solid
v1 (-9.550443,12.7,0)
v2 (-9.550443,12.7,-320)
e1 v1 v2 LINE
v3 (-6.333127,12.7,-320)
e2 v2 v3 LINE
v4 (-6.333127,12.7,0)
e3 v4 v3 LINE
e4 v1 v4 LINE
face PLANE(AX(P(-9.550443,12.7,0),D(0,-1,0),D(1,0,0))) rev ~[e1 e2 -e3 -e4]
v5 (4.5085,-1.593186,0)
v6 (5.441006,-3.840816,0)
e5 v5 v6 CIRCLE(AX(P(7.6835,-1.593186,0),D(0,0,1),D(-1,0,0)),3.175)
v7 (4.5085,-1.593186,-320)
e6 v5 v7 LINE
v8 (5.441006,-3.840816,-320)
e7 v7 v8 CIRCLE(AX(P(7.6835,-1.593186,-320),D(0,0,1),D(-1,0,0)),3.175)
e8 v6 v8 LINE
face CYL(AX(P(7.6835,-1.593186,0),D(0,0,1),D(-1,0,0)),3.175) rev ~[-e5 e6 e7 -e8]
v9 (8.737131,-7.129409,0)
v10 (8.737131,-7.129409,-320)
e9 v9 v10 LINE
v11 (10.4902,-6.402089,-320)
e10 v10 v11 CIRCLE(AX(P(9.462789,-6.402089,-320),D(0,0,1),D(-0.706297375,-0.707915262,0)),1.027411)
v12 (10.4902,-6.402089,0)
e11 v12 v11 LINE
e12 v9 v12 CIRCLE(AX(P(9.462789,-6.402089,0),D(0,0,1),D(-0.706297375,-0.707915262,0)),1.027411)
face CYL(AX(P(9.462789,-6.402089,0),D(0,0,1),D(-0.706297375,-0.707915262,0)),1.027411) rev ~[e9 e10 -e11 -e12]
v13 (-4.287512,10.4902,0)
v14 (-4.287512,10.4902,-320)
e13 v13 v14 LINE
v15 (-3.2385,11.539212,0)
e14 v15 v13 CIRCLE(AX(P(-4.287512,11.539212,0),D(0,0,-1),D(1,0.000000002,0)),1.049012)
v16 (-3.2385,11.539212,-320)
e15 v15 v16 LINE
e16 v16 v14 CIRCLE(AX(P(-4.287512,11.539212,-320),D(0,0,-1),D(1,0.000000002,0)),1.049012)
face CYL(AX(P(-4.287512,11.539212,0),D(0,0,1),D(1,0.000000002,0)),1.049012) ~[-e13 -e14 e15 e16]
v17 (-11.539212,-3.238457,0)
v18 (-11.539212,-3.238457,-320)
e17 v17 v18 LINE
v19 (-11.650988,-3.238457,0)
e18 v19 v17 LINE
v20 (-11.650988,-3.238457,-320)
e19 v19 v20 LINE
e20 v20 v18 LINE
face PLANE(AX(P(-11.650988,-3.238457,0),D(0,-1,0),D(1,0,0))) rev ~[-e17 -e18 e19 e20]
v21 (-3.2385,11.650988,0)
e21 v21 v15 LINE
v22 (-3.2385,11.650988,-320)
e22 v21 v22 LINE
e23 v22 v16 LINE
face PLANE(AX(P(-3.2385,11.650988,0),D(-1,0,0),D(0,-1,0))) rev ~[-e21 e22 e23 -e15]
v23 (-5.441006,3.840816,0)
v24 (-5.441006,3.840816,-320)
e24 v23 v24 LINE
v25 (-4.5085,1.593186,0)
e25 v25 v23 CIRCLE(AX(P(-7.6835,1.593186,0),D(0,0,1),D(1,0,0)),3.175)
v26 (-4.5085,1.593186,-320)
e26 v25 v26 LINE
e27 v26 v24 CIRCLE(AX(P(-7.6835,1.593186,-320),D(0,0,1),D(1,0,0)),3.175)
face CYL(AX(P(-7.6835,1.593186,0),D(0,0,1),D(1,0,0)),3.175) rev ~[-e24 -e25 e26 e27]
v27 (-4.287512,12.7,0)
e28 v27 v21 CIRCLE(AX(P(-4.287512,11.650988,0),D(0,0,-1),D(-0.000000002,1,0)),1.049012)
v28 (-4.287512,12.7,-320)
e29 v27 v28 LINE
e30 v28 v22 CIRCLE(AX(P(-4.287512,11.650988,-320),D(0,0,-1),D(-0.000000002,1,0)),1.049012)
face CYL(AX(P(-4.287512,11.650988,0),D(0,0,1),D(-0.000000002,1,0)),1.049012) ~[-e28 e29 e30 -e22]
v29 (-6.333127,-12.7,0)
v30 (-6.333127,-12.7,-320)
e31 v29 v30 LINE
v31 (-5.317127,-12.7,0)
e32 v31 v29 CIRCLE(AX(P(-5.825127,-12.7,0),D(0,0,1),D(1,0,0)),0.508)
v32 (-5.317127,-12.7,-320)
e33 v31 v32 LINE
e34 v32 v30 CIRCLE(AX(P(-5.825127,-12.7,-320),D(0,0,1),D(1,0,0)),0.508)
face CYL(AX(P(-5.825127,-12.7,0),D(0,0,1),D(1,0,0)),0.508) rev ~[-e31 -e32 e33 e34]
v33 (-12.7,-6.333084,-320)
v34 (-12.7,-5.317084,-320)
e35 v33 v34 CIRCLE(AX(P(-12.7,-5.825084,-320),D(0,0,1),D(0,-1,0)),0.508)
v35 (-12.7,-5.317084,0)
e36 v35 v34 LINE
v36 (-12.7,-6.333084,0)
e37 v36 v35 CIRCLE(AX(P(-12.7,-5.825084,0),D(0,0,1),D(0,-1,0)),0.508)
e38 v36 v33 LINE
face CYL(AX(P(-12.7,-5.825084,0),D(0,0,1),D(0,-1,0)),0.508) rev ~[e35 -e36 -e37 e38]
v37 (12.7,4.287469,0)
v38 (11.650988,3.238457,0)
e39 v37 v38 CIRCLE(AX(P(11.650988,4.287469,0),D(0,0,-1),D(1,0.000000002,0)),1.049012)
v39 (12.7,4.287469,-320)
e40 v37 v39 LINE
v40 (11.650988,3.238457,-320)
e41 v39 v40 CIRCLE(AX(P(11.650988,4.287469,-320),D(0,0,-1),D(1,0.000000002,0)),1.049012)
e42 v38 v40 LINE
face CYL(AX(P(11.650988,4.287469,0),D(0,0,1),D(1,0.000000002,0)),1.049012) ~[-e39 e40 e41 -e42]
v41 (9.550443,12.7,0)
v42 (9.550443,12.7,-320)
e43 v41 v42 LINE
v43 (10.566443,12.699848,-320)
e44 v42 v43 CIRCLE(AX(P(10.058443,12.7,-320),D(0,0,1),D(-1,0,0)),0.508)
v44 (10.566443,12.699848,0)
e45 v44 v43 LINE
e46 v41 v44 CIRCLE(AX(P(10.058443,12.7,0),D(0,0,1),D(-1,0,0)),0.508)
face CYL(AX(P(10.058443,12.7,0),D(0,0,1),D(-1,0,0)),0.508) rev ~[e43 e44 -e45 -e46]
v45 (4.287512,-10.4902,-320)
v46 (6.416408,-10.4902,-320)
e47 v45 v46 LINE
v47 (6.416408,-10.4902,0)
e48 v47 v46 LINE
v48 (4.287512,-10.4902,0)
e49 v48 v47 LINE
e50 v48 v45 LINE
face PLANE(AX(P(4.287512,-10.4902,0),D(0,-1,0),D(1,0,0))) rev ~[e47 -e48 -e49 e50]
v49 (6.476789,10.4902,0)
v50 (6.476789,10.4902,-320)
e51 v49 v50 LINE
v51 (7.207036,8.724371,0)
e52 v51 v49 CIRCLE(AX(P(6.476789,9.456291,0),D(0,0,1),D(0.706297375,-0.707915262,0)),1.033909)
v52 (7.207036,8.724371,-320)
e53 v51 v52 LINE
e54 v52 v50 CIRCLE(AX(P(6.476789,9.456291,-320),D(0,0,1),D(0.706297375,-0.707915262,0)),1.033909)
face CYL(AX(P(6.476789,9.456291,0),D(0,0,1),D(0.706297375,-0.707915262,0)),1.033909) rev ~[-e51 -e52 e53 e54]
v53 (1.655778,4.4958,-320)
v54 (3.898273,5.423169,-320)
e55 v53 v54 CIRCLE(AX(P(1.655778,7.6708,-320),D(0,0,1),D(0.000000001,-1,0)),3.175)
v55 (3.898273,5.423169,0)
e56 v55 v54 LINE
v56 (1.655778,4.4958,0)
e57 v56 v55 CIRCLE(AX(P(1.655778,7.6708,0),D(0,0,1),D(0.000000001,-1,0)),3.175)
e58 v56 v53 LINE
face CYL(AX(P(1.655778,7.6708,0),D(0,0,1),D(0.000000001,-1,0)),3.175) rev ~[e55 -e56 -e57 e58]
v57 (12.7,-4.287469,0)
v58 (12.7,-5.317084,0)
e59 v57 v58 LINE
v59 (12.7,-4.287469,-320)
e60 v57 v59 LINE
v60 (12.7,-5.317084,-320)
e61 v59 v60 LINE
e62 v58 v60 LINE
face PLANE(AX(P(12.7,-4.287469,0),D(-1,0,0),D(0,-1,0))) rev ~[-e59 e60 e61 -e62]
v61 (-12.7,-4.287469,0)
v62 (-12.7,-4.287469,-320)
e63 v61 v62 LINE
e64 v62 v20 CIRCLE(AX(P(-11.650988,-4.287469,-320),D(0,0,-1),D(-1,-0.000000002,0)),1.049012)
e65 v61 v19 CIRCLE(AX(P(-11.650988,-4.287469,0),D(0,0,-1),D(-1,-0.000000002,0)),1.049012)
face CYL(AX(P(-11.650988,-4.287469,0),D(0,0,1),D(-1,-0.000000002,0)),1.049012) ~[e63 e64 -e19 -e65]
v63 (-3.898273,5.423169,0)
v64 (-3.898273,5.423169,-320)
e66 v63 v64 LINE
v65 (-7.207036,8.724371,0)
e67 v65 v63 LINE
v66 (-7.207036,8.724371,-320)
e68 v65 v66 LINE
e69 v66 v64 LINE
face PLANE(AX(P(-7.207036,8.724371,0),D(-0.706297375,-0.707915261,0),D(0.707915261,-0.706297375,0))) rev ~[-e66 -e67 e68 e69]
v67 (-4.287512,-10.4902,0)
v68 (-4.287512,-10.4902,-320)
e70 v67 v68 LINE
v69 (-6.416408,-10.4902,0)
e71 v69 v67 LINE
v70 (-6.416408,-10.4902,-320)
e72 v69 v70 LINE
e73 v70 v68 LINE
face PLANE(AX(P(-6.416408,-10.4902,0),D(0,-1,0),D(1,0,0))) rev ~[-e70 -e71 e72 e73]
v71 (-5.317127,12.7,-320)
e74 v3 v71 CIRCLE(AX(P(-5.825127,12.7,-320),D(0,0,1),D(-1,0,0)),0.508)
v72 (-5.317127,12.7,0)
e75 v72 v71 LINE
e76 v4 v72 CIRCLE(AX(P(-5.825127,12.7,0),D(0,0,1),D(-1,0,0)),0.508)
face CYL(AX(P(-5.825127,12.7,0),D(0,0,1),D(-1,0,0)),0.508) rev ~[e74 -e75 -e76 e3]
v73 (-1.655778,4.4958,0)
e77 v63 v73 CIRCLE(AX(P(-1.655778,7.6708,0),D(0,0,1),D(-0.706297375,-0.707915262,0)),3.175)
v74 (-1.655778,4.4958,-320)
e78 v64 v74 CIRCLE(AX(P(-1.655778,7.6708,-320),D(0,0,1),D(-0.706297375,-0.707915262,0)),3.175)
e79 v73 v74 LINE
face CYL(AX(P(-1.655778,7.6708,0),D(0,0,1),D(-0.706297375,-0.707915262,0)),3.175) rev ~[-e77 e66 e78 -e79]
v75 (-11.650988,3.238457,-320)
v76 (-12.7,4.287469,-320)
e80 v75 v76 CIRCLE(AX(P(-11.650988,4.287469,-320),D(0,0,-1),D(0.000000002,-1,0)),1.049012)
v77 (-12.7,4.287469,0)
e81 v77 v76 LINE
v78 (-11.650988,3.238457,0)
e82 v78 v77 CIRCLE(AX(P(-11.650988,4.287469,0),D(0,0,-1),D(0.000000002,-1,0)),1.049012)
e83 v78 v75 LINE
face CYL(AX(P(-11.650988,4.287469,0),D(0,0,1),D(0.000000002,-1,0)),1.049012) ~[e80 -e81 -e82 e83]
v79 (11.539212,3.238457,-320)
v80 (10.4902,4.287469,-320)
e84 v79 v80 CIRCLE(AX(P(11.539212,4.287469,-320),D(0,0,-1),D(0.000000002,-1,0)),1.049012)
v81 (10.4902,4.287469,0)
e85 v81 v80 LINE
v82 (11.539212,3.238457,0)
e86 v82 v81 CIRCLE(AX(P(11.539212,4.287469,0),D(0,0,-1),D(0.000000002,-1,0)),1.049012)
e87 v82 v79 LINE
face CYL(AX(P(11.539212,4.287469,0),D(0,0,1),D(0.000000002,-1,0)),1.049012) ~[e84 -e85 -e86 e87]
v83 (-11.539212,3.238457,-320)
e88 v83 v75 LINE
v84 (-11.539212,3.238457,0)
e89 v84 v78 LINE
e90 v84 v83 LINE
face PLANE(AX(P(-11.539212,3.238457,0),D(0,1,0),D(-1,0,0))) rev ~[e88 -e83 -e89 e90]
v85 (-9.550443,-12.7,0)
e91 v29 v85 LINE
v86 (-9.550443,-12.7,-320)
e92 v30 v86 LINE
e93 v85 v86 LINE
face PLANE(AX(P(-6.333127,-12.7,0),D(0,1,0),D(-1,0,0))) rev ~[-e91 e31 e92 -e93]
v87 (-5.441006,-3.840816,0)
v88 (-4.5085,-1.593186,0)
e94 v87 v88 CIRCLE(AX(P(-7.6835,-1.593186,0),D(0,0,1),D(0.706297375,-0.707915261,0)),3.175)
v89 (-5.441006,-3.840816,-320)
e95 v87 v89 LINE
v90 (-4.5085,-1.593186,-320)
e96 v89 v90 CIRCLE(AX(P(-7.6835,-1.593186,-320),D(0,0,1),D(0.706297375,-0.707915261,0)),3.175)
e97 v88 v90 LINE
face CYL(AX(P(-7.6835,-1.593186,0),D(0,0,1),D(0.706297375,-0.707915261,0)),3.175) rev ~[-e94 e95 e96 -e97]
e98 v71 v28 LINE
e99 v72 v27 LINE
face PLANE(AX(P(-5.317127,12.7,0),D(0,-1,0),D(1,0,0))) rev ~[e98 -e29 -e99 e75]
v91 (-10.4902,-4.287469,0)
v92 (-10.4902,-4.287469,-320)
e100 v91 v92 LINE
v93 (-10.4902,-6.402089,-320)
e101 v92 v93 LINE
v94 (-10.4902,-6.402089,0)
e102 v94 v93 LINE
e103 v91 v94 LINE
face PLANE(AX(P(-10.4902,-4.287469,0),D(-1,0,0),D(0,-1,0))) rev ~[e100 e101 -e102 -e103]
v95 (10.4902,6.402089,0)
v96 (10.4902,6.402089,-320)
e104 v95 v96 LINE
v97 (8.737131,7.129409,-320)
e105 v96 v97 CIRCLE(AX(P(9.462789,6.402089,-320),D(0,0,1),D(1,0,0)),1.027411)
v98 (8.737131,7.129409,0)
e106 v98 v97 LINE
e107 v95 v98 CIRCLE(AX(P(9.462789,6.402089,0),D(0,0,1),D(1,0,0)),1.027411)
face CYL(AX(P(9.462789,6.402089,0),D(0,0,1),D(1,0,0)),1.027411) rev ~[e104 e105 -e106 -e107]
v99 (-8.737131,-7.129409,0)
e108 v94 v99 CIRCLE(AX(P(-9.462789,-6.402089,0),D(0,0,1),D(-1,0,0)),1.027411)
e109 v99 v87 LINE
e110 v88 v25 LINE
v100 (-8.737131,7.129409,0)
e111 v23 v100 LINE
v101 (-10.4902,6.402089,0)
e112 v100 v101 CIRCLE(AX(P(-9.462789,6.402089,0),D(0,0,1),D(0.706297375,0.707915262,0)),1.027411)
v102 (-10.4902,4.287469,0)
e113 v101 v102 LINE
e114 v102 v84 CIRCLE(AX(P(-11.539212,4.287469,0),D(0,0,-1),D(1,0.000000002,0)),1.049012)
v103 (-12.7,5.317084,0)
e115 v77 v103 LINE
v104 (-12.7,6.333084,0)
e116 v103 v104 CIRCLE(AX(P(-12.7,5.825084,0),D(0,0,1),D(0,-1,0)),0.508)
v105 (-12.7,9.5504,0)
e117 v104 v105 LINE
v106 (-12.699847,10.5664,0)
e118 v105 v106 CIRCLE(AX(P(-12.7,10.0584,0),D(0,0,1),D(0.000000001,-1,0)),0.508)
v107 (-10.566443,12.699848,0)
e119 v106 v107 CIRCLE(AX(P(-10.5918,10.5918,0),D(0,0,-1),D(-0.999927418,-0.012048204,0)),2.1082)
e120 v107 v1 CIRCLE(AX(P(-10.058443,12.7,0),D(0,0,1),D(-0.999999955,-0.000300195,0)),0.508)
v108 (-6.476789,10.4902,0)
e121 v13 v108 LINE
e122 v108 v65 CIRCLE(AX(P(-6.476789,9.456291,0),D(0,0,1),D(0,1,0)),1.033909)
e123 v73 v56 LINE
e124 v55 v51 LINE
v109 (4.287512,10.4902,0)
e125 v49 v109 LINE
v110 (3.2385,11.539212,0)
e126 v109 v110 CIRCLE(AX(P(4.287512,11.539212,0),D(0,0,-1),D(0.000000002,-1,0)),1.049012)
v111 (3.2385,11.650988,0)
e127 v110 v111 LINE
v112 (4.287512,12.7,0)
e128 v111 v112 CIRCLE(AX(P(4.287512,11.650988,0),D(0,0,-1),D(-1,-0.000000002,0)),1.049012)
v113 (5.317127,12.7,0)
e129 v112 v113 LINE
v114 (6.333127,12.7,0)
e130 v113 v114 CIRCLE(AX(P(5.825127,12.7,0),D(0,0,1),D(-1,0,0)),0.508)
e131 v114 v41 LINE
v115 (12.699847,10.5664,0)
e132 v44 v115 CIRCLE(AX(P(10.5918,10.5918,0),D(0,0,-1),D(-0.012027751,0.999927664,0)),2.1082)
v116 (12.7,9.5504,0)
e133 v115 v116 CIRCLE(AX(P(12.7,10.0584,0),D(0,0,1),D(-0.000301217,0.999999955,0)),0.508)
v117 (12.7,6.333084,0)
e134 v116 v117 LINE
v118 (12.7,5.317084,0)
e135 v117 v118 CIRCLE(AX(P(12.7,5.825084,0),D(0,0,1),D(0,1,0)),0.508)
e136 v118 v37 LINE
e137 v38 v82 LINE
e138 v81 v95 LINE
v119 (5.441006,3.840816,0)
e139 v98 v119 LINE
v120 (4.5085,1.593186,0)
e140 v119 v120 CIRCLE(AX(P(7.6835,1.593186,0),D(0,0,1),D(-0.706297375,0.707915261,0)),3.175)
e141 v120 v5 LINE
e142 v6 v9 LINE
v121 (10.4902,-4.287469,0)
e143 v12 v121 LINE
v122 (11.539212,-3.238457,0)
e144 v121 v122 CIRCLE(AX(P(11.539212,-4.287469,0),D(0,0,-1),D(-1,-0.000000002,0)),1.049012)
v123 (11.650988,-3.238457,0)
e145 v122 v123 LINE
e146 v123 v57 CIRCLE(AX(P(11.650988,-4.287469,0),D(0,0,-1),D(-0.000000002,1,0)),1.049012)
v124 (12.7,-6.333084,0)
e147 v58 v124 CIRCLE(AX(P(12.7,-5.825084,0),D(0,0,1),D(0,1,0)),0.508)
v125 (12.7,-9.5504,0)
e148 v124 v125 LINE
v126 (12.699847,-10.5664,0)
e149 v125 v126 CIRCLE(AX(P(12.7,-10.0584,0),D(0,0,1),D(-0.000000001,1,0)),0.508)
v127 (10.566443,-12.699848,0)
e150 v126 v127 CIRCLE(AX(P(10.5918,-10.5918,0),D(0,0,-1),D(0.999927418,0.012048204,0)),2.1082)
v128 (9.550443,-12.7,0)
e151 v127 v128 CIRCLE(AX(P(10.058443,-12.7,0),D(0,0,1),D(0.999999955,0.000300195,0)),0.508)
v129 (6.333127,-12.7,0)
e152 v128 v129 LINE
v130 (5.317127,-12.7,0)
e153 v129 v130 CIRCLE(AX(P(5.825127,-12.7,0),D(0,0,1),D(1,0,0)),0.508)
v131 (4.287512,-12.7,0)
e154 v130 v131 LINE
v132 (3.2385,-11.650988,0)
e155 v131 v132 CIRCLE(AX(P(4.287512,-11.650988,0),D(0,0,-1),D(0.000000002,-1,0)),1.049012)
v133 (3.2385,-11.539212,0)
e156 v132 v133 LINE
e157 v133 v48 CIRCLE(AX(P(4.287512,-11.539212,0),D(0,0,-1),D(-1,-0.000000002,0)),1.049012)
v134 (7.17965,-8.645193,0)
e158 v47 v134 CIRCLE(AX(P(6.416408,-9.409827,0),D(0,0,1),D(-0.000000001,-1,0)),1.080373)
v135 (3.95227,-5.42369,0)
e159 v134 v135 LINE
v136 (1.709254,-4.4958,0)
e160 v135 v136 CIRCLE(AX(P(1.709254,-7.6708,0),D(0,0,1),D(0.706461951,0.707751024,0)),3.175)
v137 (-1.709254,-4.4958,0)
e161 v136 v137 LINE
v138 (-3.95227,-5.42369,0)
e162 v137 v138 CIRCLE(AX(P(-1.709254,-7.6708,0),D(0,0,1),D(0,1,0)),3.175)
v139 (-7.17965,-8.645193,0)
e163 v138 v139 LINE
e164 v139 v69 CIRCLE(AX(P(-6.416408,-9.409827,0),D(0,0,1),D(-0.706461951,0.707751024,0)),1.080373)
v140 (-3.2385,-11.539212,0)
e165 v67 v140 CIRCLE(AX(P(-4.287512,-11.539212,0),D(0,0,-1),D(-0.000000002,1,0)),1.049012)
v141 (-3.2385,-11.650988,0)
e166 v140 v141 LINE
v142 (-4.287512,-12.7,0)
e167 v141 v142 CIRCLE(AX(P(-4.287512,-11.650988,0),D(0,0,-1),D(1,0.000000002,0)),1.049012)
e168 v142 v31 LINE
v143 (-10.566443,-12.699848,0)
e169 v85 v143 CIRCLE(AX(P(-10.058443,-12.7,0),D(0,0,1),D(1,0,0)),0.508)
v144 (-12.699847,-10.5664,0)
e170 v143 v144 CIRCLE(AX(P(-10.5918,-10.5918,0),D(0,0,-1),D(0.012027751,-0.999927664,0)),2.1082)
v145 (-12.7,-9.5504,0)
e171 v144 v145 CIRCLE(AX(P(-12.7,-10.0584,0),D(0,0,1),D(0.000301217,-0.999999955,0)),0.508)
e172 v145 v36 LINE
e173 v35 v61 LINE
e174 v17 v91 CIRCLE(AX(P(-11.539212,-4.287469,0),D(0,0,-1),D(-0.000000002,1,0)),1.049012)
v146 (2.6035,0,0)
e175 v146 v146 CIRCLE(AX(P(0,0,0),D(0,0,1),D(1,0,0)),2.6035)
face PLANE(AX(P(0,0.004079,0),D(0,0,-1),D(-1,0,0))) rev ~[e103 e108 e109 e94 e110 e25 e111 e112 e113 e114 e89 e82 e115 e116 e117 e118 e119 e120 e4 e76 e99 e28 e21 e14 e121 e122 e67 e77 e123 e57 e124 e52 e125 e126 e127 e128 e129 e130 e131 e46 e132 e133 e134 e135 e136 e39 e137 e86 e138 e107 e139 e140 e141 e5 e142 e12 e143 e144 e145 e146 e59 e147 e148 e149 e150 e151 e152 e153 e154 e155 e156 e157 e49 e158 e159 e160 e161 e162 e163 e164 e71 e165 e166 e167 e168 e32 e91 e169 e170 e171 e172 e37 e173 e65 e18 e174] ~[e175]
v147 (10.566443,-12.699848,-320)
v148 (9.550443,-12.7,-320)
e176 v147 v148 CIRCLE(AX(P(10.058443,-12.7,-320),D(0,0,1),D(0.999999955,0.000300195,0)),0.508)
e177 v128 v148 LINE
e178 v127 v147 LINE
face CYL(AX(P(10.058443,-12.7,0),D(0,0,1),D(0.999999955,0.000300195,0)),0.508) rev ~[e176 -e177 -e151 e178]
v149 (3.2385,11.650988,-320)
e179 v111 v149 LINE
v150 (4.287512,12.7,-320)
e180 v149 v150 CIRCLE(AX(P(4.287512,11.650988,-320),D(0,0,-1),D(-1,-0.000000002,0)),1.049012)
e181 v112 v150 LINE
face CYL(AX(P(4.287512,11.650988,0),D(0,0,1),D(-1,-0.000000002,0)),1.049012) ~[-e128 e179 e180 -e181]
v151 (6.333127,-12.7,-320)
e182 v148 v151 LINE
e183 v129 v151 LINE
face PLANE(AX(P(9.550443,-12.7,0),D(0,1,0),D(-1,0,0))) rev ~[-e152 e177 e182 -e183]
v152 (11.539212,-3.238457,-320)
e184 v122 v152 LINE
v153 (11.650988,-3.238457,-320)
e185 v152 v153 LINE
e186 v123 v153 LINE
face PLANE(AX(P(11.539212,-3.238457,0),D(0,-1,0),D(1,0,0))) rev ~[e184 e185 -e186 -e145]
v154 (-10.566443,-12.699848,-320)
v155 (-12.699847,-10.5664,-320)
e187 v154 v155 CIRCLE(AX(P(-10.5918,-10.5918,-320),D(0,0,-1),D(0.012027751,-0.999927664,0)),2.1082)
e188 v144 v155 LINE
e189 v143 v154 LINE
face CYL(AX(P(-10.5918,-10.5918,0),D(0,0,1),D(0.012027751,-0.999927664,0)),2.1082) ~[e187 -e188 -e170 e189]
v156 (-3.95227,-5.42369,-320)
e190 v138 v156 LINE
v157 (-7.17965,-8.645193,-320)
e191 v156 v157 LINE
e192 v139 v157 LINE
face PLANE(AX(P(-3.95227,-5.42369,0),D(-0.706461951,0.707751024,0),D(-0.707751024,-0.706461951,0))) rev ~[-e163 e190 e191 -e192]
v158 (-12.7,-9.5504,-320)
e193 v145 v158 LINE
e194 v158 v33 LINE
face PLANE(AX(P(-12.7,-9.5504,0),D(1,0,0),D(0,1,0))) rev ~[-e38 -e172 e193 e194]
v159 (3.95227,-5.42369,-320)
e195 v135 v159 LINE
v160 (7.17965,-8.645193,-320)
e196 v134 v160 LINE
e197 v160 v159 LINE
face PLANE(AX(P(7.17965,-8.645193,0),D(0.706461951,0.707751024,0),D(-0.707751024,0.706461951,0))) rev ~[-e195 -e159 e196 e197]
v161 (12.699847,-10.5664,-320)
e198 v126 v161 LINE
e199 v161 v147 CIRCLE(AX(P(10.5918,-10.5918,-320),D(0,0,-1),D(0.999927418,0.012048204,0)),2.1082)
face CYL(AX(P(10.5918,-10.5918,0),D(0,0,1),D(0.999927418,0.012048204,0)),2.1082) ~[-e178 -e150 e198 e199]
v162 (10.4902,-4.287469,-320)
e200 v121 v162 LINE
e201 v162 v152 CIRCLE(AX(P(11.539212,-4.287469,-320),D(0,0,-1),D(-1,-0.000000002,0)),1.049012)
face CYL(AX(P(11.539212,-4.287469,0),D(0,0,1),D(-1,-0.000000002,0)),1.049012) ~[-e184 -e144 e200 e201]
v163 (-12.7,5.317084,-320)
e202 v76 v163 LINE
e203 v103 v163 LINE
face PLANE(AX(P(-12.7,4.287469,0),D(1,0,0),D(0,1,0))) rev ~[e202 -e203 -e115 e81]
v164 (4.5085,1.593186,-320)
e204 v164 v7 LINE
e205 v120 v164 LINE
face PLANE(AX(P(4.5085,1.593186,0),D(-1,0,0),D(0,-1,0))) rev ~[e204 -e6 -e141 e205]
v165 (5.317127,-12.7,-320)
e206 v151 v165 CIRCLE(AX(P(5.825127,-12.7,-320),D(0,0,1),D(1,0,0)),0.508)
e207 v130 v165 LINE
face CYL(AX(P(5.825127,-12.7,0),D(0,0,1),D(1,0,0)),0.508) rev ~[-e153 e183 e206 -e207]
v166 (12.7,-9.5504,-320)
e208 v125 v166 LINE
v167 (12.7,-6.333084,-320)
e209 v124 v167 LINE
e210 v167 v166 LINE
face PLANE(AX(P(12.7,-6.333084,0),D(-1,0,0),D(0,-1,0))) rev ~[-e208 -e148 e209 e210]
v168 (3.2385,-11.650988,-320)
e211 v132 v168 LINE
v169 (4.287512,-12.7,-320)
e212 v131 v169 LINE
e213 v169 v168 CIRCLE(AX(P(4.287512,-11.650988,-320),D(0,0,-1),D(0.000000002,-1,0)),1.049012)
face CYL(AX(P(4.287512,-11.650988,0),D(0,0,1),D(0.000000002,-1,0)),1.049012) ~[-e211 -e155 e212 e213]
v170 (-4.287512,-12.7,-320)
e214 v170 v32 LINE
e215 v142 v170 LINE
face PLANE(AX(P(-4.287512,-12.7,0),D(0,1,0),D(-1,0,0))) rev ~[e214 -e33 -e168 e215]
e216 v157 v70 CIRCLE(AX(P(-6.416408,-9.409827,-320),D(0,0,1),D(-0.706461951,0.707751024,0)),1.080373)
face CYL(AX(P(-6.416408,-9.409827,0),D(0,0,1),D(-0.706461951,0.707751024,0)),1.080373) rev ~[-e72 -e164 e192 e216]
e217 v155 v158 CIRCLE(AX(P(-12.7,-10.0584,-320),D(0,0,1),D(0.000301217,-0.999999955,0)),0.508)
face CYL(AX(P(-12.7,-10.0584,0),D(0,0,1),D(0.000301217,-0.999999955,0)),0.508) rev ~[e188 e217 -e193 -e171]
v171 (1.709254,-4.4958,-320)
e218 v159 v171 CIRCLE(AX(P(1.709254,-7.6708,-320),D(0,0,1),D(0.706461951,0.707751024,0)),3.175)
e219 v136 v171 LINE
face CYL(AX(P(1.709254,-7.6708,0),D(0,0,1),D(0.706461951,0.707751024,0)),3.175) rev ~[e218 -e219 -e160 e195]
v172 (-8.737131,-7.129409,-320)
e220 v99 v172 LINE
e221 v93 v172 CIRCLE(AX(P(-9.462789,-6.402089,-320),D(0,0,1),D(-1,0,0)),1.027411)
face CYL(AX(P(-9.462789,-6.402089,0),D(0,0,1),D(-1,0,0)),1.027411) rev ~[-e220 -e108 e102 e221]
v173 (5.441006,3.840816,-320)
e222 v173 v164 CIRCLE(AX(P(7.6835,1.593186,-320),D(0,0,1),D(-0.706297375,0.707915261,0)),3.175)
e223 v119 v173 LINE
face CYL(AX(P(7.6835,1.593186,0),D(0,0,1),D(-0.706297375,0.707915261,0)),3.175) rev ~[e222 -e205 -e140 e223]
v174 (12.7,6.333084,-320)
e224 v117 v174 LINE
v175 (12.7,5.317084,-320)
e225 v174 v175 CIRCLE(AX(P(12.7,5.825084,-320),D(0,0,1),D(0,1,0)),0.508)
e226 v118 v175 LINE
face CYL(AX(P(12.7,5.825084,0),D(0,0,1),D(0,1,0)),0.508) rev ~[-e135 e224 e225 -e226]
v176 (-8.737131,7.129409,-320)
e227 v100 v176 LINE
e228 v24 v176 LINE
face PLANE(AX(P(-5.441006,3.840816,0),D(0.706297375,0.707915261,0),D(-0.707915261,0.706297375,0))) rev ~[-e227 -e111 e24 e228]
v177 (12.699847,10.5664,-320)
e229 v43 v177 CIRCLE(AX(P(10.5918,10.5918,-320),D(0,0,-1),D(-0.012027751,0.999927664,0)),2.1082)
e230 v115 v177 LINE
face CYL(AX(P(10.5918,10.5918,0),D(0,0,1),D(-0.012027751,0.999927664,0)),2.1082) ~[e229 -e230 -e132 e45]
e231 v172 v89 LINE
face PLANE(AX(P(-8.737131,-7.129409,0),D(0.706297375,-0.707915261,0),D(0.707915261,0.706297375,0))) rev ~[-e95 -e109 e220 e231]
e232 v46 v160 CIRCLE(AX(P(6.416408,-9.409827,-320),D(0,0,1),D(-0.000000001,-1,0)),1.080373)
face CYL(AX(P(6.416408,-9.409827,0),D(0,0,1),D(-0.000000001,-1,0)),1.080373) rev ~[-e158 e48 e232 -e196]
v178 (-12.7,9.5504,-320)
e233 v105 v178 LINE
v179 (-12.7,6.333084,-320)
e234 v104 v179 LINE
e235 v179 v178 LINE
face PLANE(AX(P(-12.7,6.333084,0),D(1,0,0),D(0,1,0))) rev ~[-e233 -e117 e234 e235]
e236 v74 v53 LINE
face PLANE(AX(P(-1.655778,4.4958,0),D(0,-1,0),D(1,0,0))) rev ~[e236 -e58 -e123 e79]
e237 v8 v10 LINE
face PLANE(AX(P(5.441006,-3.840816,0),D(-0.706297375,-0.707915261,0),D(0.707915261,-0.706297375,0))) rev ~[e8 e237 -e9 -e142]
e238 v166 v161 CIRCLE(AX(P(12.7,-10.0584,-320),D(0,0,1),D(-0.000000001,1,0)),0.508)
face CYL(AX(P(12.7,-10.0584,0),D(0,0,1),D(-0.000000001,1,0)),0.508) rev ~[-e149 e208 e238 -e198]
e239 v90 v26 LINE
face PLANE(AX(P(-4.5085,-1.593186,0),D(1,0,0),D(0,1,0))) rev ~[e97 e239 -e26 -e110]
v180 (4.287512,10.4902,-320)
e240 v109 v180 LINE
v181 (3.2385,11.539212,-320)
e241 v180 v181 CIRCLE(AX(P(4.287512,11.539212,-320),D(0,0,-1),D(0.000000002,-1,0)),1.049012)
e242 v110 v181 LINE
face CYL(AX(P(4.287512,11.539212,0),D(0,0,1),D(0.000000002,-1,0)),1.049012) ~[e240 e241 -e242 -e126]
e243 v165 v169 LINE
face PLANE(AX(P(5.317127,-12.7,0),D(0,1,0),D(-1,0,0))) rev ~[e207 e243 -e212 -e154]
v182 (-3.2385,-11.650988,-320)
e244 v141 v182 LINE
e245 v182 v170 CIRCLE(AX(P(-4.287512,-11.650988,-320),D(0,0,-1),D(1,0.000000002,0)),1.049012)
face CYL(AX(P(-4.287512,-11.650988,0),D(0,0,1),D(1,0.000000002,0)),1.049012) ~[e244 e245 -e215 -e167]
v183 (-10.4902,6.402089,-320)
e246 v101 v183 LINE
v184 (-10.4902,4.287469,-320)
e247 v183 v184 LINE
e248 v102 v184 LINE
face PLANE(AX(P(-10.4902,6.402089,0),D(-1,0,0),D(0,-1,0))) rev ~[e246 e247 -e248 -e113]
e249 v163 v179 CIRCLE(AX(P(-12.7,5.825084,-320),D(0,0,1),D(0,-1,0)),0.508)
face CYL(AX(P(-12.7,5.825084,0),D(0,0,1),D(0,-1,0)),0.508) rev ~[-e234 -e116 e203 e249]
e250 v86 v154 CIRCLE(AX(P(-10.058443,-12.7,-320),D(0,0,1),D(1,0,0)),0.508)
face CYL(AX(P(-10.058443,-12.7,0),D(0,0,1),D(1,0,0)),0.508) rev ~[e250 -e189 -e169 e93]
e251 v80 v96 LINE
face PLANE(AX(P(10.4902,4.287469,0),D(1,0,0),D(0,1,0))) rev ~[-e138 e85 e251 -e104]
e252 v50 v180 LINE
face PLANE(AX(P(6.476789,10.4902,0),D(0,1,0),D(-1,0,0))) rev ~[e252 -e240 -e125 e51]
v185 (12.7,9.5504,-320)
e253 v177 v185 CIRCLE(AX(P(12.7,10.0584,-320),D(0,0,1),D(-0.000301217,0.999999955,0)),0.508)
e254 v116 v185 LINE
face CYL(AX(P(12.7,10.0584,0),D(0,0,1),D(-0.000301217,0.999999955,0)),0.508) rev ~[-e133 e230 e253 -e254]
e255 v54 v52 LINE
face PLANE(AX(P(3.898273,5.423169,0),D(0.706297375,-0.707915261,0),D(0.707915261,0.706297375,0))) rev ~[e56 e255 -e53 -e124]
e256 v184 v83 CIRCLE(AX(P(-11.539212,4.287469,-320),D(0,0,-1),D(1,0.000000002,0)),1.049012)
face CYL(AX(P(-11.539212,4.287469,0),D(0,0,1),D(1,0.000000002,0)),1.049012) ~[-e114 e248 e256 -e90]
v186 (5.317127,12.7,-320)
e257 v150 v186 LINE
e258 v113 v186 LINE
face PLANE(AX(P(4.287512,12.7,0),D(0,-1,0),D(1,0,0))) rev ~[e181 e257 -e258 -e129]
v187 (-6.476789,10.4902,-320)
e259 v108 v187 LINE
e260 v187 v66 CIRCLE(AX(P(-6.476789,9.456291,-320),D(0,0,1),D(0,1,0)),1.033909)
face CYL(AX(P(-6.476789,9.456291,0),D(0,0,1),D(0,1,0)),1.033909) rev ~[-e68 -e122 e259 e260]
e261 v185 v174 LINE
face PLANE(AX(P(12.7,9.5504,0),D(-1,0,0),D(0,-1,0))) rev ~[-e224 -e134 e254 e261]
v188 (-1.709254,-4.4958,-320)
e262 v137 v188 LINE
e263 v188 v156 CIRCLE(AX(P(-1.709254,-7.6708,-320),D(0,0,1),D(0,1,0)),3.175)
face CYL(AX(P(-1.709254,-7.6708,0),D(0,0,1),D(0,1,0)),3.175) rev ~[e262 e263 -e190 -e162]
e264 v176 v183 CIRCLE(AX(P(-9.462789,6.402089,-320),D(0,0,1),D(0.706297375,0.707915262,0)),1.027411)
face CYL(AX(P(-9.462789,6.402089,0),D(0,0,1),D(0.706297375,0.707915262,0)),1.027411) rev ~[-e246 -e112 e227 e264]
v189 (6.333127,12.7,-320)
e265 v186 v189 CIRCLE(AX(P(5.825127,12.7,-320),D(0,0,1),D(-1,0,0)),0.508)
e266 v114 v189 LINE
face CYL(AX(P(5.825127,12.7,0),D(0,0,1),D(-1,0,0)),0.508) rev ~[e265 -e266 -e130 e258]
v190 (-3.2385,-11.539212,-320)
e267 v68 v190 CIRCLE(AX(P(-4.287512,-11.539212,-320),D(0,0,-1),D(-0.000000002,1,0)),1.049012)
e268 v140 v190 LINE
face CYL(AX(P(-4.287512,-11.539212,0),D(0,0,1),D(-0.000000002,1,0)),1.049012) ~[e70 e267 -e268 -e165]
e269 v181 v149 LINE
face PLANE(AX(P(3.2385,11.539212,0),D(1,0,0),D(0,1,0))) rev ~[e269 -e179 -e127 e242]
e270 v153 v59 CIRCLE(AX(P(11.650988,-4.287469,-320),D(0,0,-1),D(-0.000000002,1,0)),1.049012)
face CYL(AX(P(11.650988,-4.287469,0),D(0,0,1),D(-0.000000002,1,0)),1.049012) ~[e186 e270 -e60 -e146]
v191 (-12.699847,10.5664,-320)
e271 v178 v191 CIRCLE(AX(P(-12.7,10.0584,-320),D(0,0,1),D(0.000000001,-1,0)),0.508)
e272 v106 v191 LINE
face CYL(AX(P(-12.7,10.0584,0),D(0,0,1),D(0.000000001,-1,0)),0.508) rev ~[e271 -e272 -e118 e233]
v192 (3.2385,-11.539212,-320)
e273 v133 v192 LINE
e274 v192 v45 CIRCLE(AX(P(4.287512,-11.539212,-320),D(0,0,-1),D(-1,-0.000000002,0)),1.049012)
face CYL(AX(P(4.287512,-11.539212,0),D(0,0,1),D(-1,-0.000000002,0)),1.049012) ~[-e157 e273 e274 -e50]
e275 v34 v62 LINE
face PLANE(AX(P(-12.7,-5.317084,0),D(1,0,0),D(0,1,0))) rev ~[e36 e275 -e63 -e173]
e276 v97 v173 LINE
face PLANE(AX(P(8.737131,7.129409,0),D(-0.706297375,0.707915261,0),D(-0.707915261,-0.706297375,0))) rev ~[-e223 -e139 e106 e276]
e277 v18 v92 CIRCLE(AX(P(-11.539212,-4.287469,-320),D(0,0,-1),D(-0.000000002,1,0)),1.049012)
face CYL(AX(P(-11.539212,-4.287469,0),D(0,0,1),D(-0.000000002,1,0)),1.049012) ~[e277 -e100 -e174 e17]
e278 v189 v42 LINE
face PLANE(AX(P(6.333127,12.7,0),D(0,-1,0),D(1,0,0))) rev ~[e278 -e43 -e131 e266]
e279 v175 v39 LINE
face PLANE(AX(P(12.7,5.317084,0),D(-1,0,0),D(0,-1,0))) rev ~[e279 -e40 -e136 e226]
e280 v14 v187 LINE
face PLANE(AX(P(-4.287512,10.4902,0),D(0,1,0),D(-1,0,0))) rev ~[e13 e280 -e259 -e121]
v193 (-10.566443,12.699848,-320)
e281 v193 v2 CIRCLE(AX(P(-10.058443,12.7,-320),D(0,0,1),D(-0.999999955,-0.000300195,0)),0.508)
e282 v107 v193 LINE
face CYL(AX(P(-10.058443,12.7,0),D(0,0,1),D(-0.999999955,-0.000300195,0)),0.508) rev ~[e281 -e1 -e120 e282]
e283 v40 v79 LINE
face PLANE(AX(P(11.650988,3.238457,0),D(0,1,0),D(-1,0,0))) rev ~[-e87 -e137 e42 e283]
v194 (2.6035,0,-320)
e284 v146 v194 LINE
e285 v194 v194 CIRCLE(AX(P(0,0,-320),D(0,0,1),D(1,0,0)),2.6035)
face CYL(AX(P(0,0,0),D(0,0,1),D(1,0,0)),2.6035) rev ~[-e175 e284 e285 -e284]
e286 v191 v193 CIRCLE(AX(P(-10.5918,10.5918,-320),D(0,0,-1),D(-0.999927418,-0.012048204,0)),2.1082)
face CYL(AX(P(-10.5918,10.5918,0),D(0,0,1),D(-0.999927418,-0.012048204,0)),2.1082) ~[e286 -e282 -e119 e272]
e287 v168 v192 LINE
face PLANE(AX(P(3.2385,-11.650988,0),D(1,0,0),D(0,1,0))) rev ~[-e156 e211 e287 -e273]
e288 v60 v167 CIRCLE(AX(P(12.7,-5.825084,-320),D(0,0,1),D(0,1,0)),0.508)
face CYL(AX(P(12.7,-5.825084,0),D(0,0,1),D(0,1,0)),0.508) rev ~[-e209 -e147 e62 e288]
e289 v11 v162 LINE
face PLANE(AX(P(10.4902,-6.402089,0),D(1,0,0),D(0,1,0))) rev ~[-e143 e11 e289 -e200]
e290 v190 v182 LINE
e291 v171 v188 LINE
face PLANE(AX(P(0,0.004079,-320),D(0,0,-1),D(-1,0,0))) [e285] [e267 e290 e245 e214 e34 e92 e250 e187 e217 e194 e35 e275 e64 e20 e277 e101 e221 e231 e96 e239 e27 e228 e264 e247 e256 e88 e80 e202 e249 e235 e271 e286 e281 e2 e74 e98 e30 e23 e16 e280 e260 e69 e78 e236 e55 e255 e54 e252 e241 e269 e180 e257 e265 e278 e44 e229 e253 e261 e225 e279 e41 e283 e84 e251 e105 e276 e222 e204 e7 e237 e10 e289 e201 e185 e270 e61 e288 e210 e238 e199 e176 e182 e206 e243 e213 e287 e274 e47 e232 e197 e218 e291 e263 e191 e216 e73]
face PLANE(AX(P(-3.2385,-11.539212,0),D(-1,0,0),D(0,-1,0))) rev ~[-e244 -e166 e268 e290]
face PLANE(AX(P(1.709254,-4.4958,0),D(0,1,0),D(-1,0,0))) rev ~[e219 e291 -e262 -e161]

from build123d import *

# Parameters (mm, degrees)
SKETCH1_R      = 2.6035
EXTRUDE1_DEPTH = 320


with BuildPart() as part:
    # Sketch1 → Extrude1 (new body)
    with BuildSketch(Plane.XY):
        with BuildLine():
            Line((-7.207036008, 8.724370562), (-3.898272566, 5.423169045))
            ThreePointArc((-3.898272566, 5.423169045), (-2.869120213, 4.736787962), (-1.655778399, 4.4958))
            Line((-1.655778399, 4.4958), (1.655778399, 4.4958))
            ThreePointArc((1.655778399, 4.4958), (2.869120213, 4.736787962), (3.898272566, 5.423169045))
            Line((3.898272566, 5.423169045), (7.207036008, 8.724370562))
            ThreePointArc((7.207036008, 8.724370562), (7.432222385, 9.85140422), (6.476788598, 10.4902))
            Line((6.476788598, 10.4902), (4.287512407, 10.4902))
            ThreePointArc((4.287512407, 10.4902), (3.54574862, 10.79744862), (3.2385, 11.539212407))
            Line((3.2385, 11.539212407), (3.2385, 11.650987593))
            ThreePointArc((3.2385, 11.650987593), (3.54574862, 12.39275138), (4.287512407, 12.7))
            Line((4.287512407, 12.7), (5.317126718, 12.7))
            ThreePointArc((5.317126718, 12.7), (5.825126718, 12.192), (6.333126718, 12.7))
            Line((6.333126718, 12.7), (9.550443118, 12.7))
            ThreePointArc((9.550443118, 12.7), (10.058366869, 12.192000006), (10.566443095, 12.699847501))
            ThreePointArc((10.566443095, 12.699847501), (12.082537762, 12.08250727), (12.699846982, 10.566399977))
            ThreePointArc((12.699846982, 10.566399977), (12.192000006, 10.058323491), (12.7, 9.5504))
            Line((12.7, 9.5504), (12.7, 6.3330836))
            ThreePointArc((12.7, 6.3330836), (12.192, 5.8250836), (12.7, 5.3170836))
            Line((12.7, 5.3170836), (12.7, 4.287469289))
            ThreePointArc((12.7, 4.287469289), (12.39275138, 3.545705502), (11.650987593, 3.238456882))
            Line((11.650987593, 3.238456882), (11.539212407, 3.238456882))
            ThreePointArc((11.539212407, 3.238456882), (10.79744862, 3.545705502), (10.4902, 4.287469289))
            Line((10.4902, 4.287469289), (10.4902, 6.402089023))
            ThreePointArc((10.4902, 6.402089023), (9.856505071, 7.351067942), (8.737131347, 7.129408934))
            Line((8.737131347, 7.129408934), (5.441005833, 3.840816462))
            ThreePointArc((5.441005833, 3.840816462), (4.750877967, 2.809883091), (4.5085, 1.593185507))
            Line((4.5085, 1.593185507), (4.5085, -1.593185507))
            ThreePointArc((4.5085, -1.593185507), (4.750877967, -2.809883091), (5.441005833, -3.840816462))
            Line((5.441005833, -3.840816462), (8.737131347, -7.129408934))
            ThreePointArc((8.737131347, -7.129408934), (9.856505071, -7.351067942), (10.4902, -6.402089023))
            Line((10.4902, -6.402089023), (10.4902, -4.287469289))
            ThreePointArc((10.4902, -4.287469289), (10.79744862, -3.545705502), (11.539212407, -3.238456882))
            Line((11.539212407, -3.238456882), (11.650987593, -3.238456882))
            ThreePointArc((11.650987593, -3.238456882), (12.39275138, -3.545705502), (12.7, -4.287469289))
            Line((12.7, -4.287469289), (12.7, -5.3170836))
            ThreePointArc((12.7, -5.3170836), (12.192, -5.8250836), (12.7, -6.3330836))
            Line((12.7, -6.3330836), (12.7, -9.5504))
            ThreePointArc((12.7, -9.5504), (12.192000006, -10.058323491), (12.699846982, -10.566399977))
            ThreePointArc((12.699846982, -10.566399977), (12.082537762, -12.08250727), (10.566443095, -12.699847501))
            ThreePointArc((10.566443095, -12.699847501), (10.058366869, -12.192000006), (9.550443118, -12.7))
            Line((9.550443118, -12.7), (6.333126718, -12.7))
            ThreePointArc((6.333126718, -12.7), (5.825126718, -12.192), (5.317126718, -12.7))
            Line((5.317126718, -12.7), (4.287512407, -12.7))
            ThreePointArc((4.287512407, -12.7), (3.54574862, -12.39275138), (3.2385, -11.650987593))
            Line((3.2385, -11.650987593), (3.2385, -11.539212407))
            ThreePointArc((3.2385, -11.539212407), (3.54574862, -10.79744862), (4.287512407, -10.4902))
            Line((4.287512407, -10.4902), (6.416408329, -10.4902))
            ThreePointArc((6.416408329, -10.4902), (7.41473083, -9.822813117), (7.179650497, -8.645192506))
            Line((7.179650497, -8.645192506), (3.952270251, -5.423690499))
            ThreePointArc((3.952270251, -5.423690499), (2.922936451, -4.736929036), (1.709253557, -4.4958))
            Line((1.709253557, -4.4958), (-1.709253557, -4.4958))
            ThreePointArc((-1.709253557, -4.4958), (-2.922936451, -4.736929036), (-3.952270251, -5.423690499))
            Line((-3.952270251, -5.423690499), (-7.179650497, -8.645192506))
            ThreePointArc((-7.179650497, -8.645192506), (-7.41473083, -9.822813117), (-6.416408329, -10.4902))
            Line((-6.416408329, -10.4902), (-4.287512407, -10.4902))
            ThreePointArc((-4.287512407, -10.4902), (-3.54574862, -10.79744862), (-3.2385, -11.539212407))
            Line((-3.2385, -11.539212407), (-3.2385, -11.650987593))
            ThreePointArc((-3.2385, -11.650987593), (-3.54574862, -12.39275138), (-4.287512407, -12.7))
            Line((-4.287512407, -12.7), (-5.317126718, -12.7))
            ThreePointArc((-5.317126718, -12.7), (-5.825126718, -12.192), (-6.333126718, -12.7))
            Line((-6.333126718, -12.7), (-9.550443118, -12.7))
            ThreePointArc((-9.550443118, -12.7), (-10.058366869, -12.192000006), (-10.566443095, -12.699847501))
            ThreePointArc((-10.566443095, -12.699847501), (-12.082537762, -12.08250727), (-12.699846982, -10.566399977))
            ThreePointArc((-12.699846982, -10.566399977), (-12.192000006, -10.058323491), (-12.7, -9.5504))
            Line((-12.7, -9.5504), (-12.7, -6.3330836))
            ThreePointArc((-12.7, -6.3330836), (-12.192, -5.8250836), (-12.7, -5.3170836))
            Line((-12.7, -5.3170836), (-12.7, -4.287469289))
            ThreePointArc((-12.7, -4.287469289), (-12.39275138, -3.545705502), (-11.650987593, -3.238456882))
            Line((-11.650987593, -3.238456882), (-11.539212407, -3.238456882))
            ThreePointArc((-11.539212407, -3.238456882), (-10.79744862, -3.545705502), (-10.4902, -4.287469289))
            Line((-10.4902, -4.287469289), (-10.4902, -6.402089023))
            ThreePointArc((-10.4902, -6.402089023), (-9.856505071, -7.351067942), (-8.737131347, -7.129408934))
            Line((-8.737131347, -7.129408934), (-5.441005833, -3.840816462))
            ThreePointArc((-5.441005833, -3.840816462), (-4.750877967, -2.809883091), (-4.5085, -1.593185507))
            Line((-4.5085, -1.593185507), (-4.5085, 1.593185507))
            ThreePointArc((-4.5085, 1.593185507), (-4.750877967, 2.809883091), (-5.441005833, 3.840816462))
            Line((-5.441005833, 3.840816462), (-8.737131347, 7.129408934))
            ThreePointArc((-8.737131347, 7.129408934), (-9.856505071, 7.351067942), (-10.4902, 6.402089023))
            Line((-10.4902, 6.402089023), (-10.4902, 4.287469289))
            ThreePointArc((-10.4902, 4.287469289), (-10.79744862, 3.545705502), (-11.539212407, 3.238456882))
            Line((-11.539212407, 3.238456882), (-11.650987593, 3.238456882))
            ThreePointArc((-11.650987593, 3.238456882), (-12.39275138, 3.545705502), (-12.7, 4.287469289))
            Line((-12.7, 4.287469289), (-12.7, 5.3170836))
            ThreePointArc((-12.7, 5.3170836), (-12.192, 5.8250836), (-12.7, 6.3330836))
            Line((-12.7, 6.3330836), (-12.7, 9.5504))
            ThreePointArc((-12.7, 9.5504), (-12.192000006, 10.058323491), (-12.699846982, 10.566399977))
            ThreePointArc((-12.699846982, 10.566399977), (-12.082537762, 12.08250727), (-10.566443095, 12.699847501))
            ThreePointArc((-10.566443095, 12.699847501), (-10.058366869, 12.192000006), (-9.550443118, 12.7))
            Line((-9.550443118, 12.7), (-6.333126718, 12.7))
            ThreePointArc((-6.333126718, 12.7), (-5.825126718, 12.192), (-5.317126718, 12.7))
            Line((-5.317126718, 12.7), (-4.287512407, 12.7))
            ThreePointArc((-4.287512407, 12.7), (-3.54574862, 12.39275138), (-3.2385, 11.650987593))
            Line((-3.2385, 11.650987593), (-3.2385, 11.539212407))
            ThreePointArc((-3.2385, 11.539212407), (-3.54574862, 10.79744862), (-4.287512407, 10.4902))
            Line((-4.287512407, 10.4902), (-6.476788598, 10.4902))
            ThreePointArc((-6.476788598, 10.4902), (-7.432222385, 9.85140422), (-7.207036008, 8.724370562))
        make_face()
        Circle(SKETCH1_R, mode=Mode.SUBTRACT)
    extrude(amount=-EXTRUDE1_DEPTH)


solid = part.part
